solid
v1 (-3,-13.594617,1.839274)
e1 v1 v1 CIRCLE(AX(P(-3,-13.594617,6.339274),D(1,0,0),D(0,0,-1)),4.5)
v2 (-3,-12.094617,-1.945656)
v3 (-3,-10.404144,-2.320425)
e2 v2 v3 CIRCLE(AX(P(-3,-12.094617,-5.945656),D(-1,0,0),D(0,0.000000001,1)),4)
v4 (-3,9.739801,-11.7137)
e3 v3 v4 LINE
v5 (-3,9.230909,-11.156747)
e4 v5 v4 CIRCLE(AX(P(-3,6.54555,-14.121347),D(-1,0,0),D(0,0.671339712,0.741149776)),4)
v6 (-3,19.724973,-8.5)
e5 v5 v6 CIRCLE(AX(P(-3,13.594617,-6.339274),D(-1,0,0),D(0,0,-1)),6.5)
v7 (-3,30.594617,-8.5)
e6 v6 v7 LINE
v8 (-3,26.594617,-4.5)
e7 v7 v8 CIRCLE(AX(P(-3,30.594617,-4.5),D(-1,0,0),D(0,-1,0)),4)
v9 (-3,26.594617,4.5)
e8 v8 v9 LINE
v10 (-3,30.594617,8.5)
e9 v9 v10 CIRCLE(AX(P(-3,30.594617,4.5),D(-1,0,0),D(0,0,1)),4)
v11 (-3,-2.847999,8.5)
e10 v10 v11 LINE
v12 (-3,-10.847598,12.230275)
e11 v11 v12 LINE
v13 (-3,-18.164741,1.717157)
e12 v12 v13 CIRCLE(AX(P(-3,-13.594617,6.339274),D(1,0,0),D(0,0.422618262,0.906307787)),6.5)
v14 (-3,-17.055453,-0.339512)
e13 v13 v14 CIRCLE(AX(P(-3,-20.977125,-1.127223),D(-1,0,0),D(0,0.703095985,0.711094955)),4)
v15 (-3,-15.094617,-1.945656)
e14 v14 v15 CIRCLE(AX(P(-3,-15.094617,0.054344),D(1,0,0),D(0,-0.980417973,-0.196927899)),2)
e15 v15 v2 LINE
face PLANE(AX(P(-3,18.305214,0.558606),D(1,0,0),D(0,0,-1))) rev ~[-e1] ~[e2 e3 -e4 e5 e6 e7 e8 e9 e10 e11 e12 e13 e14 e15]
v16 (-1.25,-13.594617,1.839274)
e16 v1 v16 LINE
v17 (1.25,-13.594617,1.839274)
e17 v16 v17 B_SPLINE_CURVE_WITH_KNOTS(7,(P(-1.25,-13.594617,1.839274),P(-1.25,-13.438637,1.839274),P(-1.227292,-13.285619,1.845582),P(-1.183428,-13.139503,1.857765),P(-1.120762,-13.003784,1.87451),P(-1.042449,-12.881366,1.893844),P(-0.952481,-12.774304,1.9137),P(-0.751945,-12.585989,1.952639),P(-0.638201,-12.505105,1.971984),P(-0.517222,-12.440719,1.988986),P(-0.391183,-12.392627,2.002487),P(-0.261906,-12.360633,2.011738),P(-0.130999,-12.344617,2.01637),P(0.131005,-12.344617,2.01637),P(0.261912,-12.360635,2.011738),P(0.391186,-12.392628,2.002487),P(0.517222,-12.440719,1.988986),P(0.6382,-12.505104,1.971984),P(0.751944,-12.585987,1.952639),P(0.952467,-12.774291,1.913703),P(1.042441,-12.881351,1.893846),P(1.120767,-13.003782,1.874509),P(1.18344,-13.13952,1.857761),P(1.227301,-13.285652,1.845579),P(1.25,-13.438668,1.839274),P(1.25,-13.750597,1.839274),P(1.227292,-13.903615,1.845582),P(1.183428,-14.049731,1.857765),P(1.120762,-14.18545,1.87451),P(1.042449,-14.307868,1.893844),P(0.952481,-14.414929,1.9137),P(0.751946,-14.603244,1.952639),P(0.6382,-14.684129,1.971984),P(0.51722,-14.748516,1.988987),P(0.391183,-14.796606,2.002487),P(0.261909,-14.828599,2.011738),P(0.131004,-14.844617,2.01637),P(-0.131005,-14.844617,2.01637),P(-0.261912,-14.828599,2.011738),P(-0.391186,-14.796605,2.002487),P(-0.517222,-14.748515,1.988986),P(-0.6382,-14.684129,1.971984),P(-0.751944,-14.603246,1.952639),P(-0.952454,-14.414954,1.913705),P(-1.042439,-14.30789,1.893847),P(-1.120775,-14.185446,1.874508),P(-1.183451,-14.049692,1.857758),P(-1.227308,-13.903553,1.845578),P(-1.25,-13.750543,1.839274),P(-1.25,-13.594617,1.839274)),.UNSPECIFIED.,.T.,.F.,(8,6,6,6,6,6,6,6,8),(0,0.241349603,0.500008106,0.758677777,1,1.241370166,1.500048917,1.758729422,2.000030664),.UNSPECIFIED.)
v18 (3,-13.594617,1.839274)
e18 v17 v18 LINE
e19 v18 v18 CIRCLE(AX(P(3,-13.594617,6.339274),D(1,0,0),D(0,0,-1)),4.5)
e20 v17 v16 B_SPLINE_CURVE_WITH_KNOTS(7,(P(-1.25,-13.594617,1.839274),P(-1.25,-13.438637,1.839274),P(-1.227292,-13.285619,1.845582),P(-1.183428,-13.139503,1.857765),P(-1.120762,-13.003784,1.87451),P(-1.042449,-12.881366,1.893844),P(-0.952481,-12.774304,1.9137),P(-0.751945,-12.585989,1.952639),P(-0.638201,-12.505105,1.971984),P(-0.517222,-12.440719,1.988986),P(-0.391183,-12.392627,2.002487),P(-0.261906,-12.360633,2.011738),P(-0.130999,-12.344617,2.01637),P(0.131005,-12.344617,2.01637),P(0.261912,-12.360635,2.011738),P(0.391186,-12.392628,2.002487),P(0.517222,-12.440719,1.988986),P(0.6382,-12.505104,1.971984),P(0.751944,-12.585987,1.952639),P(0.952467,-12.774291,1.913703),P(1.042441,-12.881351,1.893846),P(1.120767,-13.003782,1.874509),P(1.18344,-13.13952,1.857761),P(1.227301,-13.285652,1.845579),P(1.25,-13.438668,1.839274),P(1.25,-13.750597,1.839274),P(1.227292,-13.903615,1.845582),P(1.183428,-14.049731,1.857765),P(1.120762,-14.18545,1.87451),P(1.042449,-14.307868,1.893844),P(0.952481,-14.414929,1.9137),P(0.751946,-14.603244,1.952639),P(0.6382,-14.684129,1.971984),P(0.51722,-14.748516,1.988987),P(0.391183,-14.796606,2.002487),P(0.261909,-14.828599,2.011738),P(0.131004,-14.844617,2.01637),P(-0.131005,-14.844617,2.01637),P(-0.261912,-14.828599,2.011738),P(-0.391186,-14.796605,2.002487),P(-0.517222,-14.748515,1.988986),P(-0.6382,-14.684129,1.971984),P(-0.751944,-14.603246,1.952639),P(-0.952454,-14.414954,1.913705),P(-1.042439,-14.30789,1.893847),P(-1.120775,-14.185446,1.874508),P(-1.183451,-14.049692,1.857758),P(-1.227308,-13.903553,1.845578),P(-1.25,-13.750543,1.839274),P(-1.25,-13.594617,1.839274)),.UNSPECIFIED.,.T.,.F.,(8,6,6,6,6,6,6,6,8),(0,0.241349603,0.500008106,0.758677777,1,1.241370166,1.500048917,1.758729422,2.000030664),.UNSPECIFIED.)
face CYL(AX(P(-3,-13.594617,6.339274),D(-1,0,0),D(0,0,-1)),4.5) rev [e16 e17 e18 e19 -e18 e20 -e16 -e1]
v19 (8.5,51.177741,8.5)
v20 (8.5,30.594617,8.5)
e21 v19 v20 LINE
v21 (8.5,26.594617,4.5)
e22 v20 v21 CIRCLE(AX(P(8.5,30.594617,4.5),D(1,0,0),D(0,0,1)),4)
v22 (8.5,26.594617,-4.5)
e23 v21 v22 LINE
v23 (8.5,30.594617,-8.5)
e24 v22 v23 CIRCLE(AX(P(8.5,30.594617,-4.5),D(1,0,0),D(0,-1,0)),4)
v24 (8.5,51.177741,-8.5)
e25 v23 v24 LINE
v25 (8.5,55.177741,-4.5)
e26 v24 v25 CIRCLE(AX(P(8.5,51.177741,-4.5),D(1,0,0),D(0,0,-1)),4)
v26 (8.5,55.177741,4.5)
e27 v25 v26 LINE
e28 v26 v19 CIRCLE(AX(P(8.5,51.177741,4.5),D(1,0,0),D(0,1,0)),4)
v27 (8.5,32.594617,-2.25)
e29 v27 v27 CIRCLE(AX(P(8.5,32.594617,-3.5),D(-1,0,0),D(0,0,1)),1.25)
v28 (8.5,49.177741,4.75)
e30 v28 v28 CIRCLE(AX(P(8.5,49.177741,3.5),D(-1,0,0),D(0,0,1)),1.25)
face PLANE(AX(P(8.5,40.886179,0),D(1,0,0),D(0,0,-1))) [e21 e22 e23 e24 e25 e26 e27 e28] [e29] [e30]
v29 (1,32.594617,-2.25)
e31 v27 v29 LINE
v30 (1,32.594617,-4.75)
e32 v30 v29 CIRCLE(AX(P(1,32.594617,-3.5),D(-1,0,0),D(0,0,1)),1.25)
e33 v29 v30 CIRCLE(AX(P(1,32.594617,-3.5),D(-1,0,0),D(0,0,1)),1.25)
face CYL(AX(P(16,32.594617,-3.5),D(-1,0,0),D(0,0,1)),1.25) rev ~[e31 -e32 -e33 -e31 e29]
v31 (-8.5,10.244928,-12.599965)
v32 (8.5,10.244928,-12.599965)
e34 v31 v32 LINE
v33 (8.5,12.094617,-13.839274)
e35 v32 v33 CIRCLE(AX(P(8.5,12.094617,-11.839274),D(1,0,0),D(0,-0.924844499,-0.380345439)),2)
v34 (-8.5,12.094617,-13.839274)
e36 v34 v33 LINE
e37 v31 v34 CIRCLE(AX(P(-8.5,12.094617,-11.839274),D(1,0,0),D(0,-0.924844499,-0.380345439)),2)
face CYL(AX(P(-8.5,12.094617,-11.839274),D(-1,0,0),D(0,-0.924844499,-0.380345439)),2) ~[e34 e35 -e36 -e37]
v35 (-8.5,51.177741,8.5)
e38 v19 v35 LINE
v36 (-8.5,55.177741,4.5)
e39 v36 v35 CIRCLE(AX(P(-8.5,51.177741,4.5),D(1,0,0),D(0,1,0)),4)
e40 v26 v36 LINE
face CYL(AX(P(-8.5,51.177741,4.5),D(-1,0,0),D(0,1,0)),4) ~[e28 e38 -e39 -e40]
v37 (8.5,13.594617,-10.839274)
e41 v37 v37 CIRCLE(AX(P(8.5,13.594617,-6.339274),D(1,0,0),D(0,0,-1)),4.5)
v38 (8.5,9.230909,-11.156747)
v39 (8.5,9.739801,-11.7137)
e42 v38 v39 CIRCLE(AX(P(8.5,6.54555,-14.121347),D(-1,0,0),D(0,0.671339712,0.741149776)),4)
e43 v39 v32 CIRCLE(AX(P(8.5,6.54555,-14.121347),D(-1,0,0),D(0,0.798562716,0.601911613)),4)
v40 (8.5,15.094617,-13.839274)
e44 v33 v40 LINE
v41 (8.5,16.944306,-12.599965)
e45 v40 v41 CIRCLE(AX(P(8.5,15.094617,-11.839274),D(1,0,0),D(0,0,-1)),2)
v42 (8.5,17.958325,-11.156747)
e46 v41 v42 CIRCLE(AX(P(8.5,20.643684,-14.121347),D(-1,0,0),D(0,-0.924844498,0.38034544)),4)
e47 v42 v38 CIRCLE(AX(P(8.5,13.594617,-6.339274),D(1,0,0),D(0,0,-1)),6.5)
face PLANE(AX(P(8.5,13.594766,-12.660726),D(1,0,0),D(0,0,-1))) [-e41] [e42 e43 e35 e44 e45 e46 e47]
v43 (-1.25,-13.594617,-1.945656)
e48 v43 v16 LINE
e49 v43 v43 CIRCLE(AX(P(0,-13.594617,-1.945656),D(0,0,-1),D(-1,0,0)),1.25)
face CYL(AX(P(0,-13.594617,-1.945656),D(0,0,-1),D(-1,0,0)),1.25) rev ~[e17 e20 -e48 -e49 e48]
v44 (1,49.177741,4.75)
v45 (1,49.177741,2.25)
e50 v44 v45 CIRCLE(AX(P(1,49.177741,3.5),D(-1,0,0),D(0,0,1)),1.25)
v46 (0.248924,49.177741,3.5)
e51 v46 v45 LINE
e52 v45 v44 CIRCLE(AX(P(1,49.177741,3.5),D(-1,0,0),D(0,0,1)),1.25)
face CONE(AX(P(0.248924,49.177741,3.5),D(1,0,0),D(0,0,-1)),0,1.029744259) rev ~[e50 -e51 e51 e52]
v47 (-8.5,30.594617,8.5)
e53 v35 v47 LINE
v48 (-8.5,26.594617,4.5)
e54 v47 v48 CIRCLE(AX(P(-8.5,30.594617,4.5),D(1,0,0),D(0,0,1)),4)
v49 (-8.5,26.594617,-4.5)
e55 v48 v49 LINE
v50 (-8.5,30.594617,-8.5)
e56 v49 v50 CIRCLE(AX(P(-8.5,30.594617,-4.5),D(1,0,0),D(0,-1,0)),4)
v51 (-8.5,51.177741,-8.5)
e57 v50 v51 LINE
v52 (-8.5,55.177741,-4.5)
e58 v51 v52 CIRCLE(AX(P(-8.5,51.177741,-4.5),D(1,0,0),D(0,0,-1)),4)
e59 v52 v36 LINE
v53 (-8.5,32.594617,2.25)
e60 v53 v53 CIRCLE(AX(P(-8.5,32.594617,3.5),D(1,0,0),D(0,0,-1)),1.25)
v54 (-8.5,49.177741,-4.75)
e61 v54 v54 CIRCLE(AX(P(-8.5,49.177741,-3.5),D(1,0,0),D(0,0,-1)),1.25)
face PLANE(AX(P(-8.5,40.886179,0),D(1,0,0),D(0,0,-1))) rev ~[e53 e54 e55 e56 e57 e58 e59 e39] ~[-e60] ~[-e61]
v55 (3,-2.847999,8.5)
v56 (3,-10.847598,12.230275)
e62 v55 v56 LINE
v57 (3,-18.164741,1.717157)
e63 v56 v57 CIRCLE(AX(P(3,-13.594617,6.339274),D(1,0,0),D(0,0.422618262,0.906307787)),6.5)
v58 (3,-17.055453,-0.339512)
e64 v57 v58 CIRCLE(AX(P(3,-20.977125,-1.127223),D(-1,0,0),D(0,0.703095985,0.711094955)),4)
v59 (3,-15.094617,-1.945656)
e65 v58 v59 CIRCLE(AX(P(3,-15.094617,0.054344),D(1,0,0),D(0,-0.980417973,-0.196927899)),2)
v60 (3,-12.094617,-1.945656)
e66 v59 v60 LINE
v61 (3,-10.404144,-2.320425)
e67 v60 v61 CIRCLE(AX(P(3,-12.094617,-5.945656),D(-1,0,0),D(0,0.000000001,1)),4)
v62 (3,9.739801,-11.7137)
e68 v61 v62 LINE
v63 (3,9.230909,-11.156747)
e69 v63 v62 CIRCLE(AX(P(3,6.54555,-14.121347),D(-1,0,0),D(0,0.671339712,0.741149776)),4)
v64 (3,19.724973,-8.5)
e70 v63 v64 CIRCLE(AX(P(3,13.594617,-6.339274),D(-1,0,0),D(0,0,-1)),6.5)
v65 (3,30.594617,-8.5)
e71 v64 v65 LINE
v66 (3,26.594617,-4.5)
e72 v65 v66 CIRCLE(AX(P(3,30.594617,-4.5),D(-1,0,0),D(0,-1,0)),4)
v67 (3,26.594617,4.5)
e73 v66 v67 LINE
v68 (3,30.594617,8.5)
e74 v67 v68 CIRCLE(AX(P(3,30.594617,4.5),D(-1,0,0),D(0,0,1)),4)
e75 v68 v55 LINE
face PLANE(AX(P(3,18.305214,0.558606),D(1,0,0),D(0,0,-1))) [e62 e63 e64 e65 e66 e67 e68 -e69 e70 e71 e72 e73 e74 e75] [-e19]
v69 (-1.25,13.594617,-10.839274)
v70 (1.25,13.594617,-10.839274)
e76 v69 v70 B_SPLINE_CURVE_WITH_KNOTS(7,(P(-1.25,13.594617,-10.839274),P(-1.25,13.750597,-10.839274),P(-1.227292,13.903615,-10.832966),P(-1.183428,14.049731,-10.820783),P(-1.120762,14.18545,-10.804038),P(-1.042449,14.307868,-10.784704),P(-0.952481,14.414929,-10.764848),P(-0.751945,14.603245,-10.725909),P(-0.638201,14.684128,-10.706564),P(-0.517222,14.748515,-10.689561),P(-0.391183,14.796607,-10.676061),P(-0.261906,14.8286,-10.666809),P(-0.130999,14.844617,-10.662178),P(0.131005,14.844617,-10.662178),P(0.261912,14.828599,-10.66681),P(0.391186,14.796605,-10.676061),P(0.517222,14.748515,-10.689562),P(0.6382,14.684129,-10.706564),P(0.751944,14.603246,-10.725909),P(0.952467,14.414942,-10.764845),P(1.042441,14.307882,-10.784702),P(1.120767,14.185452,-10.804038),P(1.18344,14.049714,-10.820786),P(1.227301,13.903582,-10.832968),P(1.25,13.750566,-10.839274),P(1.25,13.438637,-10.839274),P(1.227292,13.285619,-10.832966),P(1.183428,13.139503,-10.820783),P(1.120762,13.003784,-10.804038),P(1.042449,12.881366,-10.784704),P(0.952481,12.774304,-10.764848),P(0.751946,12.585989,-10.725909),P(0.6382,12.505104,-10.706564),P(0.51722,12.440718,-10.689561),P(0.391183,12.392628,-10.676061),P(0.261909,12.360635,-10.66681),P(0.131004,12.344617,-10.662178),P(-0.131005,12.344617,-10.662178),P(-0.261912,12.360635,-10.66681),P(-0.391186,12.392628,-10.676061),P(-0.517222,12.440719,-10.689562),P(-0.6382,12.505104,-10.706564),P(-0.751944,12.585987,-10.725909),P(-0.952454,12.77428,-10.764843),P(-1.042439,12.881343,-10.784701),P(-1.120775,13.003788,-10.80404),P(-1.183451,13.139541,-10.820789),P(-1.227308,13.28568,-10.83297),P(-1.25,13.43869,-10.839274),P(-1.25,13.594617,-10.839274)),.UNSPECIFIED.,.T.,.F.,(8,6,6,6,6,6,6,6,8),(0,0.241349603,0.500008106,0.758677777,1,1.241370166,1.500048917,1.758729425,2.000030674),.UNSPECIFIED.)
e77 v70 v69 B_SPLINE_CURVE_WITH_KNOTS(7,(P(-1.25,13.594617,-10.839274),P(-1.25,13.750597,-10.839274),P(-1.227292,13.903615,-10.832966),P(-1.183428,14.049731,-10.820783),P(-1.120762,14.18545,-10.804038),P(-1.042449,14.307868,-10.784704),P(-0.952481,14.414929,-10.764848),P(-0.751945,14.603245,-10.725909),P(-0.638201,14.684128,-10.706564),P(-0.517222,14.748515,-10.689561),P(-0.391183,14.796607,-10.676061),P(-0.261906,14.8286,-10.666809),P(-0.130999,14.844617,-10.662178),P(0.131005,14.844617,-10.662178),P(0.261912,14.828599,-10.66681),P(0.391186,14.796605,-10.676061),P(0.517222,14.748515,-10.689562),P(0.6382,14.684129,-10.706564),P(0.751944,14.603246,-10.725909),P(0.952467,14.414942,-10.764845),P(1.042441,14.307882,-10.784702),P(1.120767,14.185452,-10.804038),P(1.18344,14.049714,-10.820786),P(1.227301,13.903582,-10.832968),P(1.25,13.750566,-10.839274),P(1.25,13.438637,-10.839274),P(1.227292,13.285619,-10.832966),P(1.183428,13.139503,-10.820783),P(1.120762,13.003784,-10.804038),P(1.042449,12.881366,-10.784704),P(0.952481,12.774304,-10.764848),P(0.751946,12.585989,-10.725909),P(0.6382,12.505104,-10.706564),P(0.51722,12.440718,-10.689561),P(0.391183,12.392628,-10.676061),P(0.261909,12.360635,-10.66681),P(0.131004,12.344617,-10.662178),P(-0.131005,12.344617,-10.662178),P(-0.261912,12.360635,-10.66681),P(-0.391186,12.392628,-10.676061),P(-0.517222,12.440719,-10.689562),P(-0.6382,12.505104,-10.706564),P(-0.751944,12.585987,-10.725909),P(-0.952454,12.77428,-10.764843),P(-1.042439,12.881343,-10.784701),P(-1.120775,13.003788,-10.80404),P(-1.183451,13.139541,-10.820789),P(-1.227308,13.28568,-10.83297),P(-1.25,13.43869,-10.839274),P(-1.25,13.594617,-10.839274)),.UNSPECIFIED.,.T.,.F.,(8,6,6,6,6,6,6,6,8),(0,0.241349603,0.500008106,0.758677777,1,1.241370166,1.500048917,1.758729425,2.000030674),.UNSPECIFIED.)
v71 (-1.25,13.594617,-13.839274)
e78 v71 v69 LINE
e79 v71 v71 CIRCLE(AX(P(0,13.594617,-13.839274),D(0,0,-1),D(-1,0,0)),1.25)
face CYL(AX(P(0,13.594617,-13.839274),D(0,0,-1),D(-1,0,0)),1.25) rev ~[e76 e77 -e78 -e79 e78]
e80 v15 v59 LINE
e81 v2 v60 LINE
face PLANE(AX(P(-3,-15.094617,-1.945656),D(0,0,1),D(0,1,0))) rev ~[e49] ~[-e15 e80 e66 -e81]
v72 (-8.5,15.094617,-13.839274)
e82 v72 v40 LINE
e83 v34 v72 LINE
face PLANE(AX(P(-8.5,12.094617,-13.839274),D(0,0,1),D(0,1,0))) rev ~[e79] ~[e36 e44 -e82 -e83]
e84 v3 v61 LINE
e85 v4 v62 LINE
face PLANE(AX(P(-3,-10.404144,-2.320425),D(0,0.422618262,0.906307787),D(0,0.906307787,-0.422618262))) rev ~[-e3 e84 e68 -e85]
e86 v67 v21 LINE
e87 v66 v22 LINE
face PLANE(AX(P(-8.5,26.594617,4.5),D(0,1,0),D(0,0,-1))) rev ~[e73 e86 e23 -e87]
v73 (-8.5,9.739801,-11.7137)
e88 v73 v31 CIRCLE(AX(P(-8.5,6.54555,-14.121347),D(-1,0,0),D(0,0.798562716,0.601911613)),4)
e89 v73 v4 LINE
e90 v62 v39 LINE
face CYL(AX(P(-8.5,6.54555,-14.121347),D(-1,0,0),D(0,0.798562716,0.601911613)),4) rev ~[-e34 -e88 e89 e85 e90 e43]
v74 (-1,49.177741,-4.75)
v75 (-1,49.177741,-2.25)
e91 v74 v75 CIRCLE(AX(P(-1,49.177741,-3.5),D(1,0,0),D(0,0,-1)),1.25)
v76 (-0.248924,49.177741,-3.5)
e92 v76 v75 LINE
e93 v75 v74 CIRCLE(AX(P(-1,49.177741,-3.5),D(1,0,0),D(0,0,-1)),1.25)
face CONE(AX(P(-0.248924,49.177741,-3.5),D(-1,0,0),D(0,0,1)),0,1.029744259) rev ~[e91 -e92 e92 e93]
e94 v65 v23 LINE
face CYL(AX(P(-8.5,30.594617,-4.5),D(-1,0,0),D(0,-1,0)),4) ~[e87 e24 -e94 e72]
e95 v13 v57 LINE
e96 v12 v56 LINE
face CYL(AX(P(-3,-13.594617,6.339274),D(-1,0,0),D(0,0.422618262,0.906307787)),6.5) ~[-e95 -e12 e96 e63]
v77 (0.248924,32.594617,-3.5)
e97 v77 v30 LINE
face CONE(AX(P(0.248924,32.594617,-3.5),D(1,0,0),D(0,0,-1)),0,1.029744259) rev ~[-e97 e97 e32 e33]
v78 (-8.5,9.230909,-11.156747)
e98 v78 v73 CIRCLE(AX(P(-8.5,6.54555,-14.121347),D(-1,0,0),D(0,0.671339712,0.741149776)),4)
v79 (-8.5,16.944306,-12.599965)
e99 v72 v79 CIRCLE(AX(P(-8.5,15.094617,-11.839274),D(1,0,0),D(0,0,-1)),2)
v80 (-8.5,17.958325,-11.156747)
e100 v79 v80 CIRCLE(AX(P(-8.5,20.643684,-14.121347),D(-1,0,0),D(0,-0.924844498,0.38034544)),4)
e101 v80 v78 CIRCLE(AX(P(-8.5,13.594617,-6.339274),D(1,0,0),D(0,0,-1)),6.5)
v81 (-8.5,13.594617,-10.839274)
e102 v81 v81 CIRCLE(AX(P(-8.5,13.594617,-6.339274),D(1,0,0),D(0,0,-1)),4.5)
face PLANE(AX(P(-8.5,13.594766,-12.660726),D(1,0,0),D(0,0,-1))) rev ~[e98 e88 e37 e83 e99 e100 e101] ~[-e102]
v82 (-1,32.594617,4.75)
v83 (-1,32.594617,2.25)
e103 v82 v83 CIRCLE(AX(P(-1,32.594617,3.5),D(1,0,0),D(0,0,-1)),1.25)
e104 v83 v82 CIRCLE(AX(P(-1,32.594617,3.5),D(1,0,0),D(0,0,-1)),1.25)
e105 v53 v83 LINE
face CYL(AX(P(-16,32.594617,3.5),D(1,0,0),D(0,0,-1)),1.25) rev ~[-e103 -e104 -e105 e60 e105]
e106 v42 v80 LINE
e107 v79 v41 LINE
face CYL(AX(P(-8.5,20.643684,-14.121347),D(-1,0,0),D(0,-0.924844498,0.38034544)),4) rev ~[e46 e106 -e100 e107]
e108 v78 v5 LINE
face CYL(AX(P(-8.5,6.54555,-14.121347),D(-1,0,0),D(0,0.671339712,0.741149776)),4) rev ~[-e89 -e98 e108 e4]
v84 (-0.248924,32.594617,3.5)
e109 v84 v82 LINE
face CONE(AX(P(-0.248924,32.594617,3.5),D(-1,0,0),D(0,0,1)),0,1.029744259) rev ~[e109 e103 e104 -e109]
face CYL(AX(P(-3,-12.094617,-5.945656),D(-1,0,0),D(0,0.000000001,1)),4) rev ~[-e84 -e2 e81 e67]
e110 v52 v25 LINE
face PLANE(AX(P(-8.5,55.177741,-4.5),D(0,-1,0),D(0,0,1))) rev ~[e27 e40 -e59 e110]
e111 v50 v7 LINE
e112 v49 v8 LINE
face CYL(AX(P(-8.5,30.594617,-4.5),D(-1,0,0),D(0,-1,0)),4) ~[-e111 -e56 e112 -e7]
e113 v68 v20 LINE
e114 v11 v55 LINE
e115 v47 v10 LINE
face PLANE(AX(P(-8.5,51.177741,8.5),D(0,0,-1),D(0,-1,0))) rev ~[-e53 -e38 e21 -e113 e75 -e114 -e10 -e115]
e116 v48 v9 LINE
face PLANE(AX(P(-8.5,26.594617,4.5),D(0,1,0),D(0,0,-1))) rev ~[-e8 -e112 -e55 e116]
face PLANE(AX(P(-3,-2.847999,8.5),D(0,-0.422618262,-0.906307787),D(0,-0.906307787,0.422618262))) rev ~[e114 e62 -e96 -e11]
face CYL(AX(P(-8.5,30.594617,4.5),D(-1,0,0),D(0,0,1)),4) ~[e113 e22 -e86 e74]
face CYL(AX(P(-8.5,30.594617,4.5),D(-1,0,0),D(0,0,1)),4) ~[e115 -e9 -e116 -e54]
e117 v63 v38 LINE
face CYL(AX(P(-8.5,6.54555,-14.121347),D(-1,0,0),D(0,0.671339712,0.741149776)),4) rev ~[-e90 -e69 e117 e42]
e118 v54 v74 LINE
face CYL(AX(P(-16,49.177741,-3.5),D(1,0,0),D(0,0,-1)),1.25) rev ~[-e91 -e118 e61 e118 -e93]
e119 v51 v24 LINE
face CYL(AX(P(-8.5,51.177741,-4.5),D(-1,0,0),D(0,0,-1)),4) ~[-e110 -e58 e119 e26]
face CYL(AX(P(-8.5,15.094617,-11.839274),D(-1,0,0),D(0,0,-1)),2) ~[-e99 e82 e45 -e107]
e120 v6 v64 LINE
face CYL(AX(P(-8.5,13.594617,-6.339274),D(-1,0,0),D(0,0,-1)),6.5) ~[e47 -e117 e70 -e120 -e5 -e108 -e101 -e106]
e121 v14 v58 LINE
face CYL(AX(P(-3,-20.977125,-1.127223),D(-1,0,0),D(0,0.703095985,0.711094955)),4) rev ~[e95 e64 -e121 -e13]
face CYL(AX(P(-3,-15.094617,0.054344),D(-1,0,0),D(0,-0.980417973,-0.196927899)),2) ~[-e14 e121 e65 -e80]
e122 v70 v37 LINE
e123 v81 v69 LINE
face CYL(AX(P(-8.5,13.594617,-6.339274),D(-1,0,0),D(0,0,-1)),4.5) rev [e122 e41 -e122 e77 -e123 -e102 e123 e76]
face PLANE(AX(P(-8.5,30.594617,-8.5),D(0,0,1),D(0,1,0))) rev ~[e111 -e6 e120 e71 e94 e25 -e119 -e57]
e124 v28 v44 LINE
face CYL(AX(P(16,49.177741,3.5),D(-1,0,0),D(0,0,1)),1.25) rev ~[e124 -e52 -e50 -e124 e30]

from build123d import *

# Parameters (mm, degrees)
BOSS_EXTRUDE1_DEPTH       = 3
BOSS_EXTRUDE1_DEPTH_BACK  = 3
SKETCH2_R                 = 4.5
BOSS_EXTRUDE4_START       = -8.5
SKETCH2_6_R               = 6.5
SKETCH2_6_R_2             = 4.5
BOSS_EXTRUDE4_DEPTH       = 17
BOSS_EXTRUDE2_DEPTH       = 8.5
BOSS_EXTRUDE2_DEPTH_BACK  = 8.5
M2_TAPPED_HOLE1_REACH     = 63.876
M2_TAPPED_HOLE1_BORE_R    = 1.25
M2_TAPPED_HOLE2_REACH     = 59.753
M2_TAPPED_HOLE2_BORE_R    = 1.25
M3X0_5_TAPPED_HOLE1_D     = 2.5
M3X0_5_TAPPED_HOLE1_DEPTH = 7.5
M3X0_5_TAPPED_HOLE1_TIP   = 0.751075774
M3X0_5_TAPPED_HOLE2_D     = 2.5
M3X0_5_TAPPED_HOLE2_DEPTH = 7.5
M3X0_5_TAPPED_HOLE2_TIP   = 0.751075774


with BuildPart() as part:
    # Sketch2 → Boss-Extrude1 (new, two sides: drawn at the far end of the back side and taken through both)
    with BuildSketch(Plane(origin=(0, 0, 0), x_dir=(0, 0, -1), z_dir=(1, 0, 0)).offset(-BOSS_EXTRUDE1_DEPTH_BACK)):
        with BuildLine():
            ThreePointArc((0.33951151, -17.055452752), (1.492864746, -16.361954251), (1.94565571, -15.094616806))
            Line((1.94565571, -15.094616806), (1.94565571, -12.094616806))
            ThreePointArc((1.94565571, -12.094616806), (2.040471682, -11.22885835), (2.320424562, -10.404143759))
            Line((2.320424562, -10.404143759), (11.713700119, 9.73980068))
            ThreePointArc((11.713700119, 9.73980068), (12.140663851, 10.020732686), (12.599964806, 10.244927809))
            ThreePointArc((12.599964806, 10.244927809), (13.500806616, 10.98137419), (13.839273926, 12.094616806))
            Line((13.839273926, 12.094616806), (13.839273926, 15.094616806))
            ThreePointArc((13.839273926, 15.094616806), (13.500806616, 16.207859421), (12.599964806, 16.944305803))
            ThreePointArc((12.599964806, 16.944305803), (11.821767305, 17.370774506), (11.156747464, 17.958324943))
            ThreePointArc((11.156747464, 17.958324943), (9.9384514, 19.007187499), (8.5, 19.724972654))
            Line((8.5, 19.724972654), (8.5, 51.177740757))
            ThreePointArc((8.5, 51.177740757), (7.328427125, 54.006167882), (4.5, 55.177740757))
            Line((4.5, 55.177740757), (-4.5, 55.177740757))
            ThreePointArc((-4.5, 55.177740757), (-7.328427125, 54.006167882), (-8.5, 51.177740757))
            Line((-8.5, 51.177740757), (-8.5, -2.847998534))
            Line((-8.5, -2.847998534), (-12.230274542, -10.847598104))
            ThreePointArc((-12.230274542, -10.847598104), (-10.052447802, -18.929627561), (-1.717156713, -18.164740706))
            ThreePointArc((-1.717156713, -18.164740706), (-0.771632326, -17.45656389), (0.33951151, -17.055452752))
        make_face()
        with Locations((-6.339273926, -13.594616806)):
            Circle(SKETCH2_R, mode=Mode.SUBTRACT)
        with Locations((6.339273926, 13.594616806)):
            Circle(SKETCH2_R, mode=Mode.SUBTRACT)
    extrude(amount=BOSS_EXTRUDE1_DEPTH + BOSS_EXTRUDE1_DEPTH_BACK)

    # Sketch2<6> → Boss-Extrude4 (add)
    # profile 1 of 2: a face of its own
    with BuildSketch(Plane(origin=(0, 0, 0), x_dir=(0, 0, -1), z_dir=(1, 0, 0)).offset(BOSS_EXTRUDE4_START)):
        with BuildLine():
            ThreePointArc((11.156747464, 9.230908668), (11.423199363, 9.498514711), (11.713700119, 9.73980068))
            ThreePointArc((11.713700119, 9.73980068), (12.140663851, 10.020732686), (12.599964806, 10.244927809))
            ThreePointArc((12.599964806, 10.244927809), (13.500806616, 10.98137419), (13.839273926, 12.094616806))
            Line((13.839273926, 12.094616806), (13.839273926, 15.094616806))
            ThreePointArc((13.839273926, 15.094616806), (13.500806616, 16.207859421), (12.599964806, 16.944305803))
            ThreePointArc((12.599964806, 16.944305803), (11.821767305, 17.370774506), (11.156747464, 17.958324943))
            ThreePointArc((11.156747464, 17.958324943), (12.404073098, 15.933037427), (12.839273926, 13.594616806))
            ThreePointArc((12.839273926, 13.594616806), (12.404073098, 11.256196185), (11.156747464, 9.230908668))
        make_face()
    # profile 2 of 2: a face of its own
    with BuildSketch(Plane(origin=(0, 0, 0), x_dir=(0, 0, -1), z_dir=(1, 0, 0)).offset(BOSS_EXTRUDE4_START)):
        with Locations((6.339273926, 13.594616806)):
            Circle(SKETCH2_6_R)
        with Locations((6.339273926, 13.594616806)):
            Circle(SKETCH2_6_R_2, mode=Mode.SUBTRACT)
    extrude(amount=BOSS_EXTRUDE4_DEPTH)

    # Sketch2<4> → Boss-Extrude2 (add, two sides: drawn at the far end of the back side and taken through both)
    with BuildSketch(Plane(origin=(0, 0, 0), x_dir=(0, 0, -1), z_dir=(1, 0, 0)).offset(-BOSS_EXTRUDE2_DEPTH_BACK)):
        with BuildLine():
            Line((-8.5, 51.177740757), (-8.5, 30.594616806))
            ThreePointArc((-8.5, 30.594616806), (-7.328427125, 27.766189681), (-4.5, 26.594616806))
            Line((-4.5, 26.594616806), (4.5, 26.594616806))
            ThreePointArc((4.5, 26.594616806), (7.328427125, 27.766189681), (8.5, 30.594616806))
            Line((8.5, 30.594616806), (8.5, 51.177740757))
            ThreePointArc((8.5, 51.177740757), (7.328427125, 54.006167882), (4.5, 55.177740757))
            Line((4.5, 55.177740757), (-4.5, 55.177740757))
            ThreePointArc((-4.5, 55.177740757), (-7.328427125, 54.006167882), (-8.5, 51.177740757))
        make_face()
    extrude(amount=BOSS_EXTRUDE2_DEPTH + BOSS_EXTRUDE2_DEPTH_BACK)

    # M2 Tapped Hole1 bore → M2 Tapped Hole1 (cut, up to next)
    with BuildSketch(Plane(origin=(0, 0, -13.839273926), x_dir=(-1, 0, 0), z_dir=(0, 0, -1)), mode=Mode.PRIVATE) as m2_tapped_hole1_sk1:
        with Locations((0, 13.594616806)):
            Circle(M2_TAPPED_HOLE1_BORE_R)
    m2_tapped_hole1_tool1 = extrude(m2_tapped_hole1_sk1.sketch, amount=-M2_TAPPED_HOLE1_REACH, mode=Mode.PRIVATE) & part.part
    add(m2_tapped_hole1_tool1.solids().sort_by_distance((0, 13.594617, -13.839274))[0], mode=Mode.SUBTRACT)

    # M2 Tapped Hole2 bore → M2 Tapped Hole2 (cut, up to next)
    with BuildSketch(Plane(origin=(0, 0, -1.94565571), x_dir=(-1, 0, 0), z_dir=(0, 0, -1)), mode=Mode.PRIVATE) as m2_tapped_hole2_sk1:
        with Locations((0, -13.594616806)):
            Circle(M2_TAPPED_HOLE2_BORE_R)
    m2_tapped_hole2_tool1 = extrude(m2_tapped_hole2_sk1.sketch, amount=-M2_TAPPED_HOLE2_REACH, mode=Mode.PRIVATE) & part.part
    add(m2_tapped_hole2_tool1.solids().sort_by_distance((0, -13.594617, -1.945656))[0], mode=Mode.SUBTRACT)

    # M3x0.5 Tapped Hole1
    with Locations(Plane.ZY.offset(8.5)):
        with Locations((-3.5, 49.177740757), (3.5, 32.594616806)):
            Hole(M3X0_5_TAPPED_HOLE1_D / 2, depth=M3X0_5_TAPPED_HOLE1_DEPTH)
            with Locations((0, 0, -(M3X0_5_TAPPED_HOLE1_DEPTH + M3X0_5_TAPPED_HOLE1_TIP / 2))):  # 118° drill point
                Cone(0, M3X0_5_TAPPED_HOLE1_D / 2, M3X0_5_TAPPED_HOLE1_TIP, mode=Mode.SUBTRACT)

    # M3x0.5 Tapped Hole2
    with Locations(Plane(origin=(8.5, 0, 0), x_dir=(0, 0, -1), z_dir=(1, 0, 0))):
        with Locations((-3.5, 49.177740757), (3.5, 32.594616806)):
            Hole(M3X0_5_TAPPED_HOLE2_D / 2, depth=M3X0_5_TAPPED_HOLE2_DEPTH)
            with Locations((0, 0, -(M3X0_5_TAPPED_HOLE2_DEPTH + M3X0_5_TAPPED_HOLE2_TIP / 2))):  # 118° drill point
                Cone(0, M3X0_5_TAPPED_HOLE2_D / 2, M3X0_5_TAPPED_HOLE2_TIP, mode=Mode.SUBTRACT)


solid = part.part
